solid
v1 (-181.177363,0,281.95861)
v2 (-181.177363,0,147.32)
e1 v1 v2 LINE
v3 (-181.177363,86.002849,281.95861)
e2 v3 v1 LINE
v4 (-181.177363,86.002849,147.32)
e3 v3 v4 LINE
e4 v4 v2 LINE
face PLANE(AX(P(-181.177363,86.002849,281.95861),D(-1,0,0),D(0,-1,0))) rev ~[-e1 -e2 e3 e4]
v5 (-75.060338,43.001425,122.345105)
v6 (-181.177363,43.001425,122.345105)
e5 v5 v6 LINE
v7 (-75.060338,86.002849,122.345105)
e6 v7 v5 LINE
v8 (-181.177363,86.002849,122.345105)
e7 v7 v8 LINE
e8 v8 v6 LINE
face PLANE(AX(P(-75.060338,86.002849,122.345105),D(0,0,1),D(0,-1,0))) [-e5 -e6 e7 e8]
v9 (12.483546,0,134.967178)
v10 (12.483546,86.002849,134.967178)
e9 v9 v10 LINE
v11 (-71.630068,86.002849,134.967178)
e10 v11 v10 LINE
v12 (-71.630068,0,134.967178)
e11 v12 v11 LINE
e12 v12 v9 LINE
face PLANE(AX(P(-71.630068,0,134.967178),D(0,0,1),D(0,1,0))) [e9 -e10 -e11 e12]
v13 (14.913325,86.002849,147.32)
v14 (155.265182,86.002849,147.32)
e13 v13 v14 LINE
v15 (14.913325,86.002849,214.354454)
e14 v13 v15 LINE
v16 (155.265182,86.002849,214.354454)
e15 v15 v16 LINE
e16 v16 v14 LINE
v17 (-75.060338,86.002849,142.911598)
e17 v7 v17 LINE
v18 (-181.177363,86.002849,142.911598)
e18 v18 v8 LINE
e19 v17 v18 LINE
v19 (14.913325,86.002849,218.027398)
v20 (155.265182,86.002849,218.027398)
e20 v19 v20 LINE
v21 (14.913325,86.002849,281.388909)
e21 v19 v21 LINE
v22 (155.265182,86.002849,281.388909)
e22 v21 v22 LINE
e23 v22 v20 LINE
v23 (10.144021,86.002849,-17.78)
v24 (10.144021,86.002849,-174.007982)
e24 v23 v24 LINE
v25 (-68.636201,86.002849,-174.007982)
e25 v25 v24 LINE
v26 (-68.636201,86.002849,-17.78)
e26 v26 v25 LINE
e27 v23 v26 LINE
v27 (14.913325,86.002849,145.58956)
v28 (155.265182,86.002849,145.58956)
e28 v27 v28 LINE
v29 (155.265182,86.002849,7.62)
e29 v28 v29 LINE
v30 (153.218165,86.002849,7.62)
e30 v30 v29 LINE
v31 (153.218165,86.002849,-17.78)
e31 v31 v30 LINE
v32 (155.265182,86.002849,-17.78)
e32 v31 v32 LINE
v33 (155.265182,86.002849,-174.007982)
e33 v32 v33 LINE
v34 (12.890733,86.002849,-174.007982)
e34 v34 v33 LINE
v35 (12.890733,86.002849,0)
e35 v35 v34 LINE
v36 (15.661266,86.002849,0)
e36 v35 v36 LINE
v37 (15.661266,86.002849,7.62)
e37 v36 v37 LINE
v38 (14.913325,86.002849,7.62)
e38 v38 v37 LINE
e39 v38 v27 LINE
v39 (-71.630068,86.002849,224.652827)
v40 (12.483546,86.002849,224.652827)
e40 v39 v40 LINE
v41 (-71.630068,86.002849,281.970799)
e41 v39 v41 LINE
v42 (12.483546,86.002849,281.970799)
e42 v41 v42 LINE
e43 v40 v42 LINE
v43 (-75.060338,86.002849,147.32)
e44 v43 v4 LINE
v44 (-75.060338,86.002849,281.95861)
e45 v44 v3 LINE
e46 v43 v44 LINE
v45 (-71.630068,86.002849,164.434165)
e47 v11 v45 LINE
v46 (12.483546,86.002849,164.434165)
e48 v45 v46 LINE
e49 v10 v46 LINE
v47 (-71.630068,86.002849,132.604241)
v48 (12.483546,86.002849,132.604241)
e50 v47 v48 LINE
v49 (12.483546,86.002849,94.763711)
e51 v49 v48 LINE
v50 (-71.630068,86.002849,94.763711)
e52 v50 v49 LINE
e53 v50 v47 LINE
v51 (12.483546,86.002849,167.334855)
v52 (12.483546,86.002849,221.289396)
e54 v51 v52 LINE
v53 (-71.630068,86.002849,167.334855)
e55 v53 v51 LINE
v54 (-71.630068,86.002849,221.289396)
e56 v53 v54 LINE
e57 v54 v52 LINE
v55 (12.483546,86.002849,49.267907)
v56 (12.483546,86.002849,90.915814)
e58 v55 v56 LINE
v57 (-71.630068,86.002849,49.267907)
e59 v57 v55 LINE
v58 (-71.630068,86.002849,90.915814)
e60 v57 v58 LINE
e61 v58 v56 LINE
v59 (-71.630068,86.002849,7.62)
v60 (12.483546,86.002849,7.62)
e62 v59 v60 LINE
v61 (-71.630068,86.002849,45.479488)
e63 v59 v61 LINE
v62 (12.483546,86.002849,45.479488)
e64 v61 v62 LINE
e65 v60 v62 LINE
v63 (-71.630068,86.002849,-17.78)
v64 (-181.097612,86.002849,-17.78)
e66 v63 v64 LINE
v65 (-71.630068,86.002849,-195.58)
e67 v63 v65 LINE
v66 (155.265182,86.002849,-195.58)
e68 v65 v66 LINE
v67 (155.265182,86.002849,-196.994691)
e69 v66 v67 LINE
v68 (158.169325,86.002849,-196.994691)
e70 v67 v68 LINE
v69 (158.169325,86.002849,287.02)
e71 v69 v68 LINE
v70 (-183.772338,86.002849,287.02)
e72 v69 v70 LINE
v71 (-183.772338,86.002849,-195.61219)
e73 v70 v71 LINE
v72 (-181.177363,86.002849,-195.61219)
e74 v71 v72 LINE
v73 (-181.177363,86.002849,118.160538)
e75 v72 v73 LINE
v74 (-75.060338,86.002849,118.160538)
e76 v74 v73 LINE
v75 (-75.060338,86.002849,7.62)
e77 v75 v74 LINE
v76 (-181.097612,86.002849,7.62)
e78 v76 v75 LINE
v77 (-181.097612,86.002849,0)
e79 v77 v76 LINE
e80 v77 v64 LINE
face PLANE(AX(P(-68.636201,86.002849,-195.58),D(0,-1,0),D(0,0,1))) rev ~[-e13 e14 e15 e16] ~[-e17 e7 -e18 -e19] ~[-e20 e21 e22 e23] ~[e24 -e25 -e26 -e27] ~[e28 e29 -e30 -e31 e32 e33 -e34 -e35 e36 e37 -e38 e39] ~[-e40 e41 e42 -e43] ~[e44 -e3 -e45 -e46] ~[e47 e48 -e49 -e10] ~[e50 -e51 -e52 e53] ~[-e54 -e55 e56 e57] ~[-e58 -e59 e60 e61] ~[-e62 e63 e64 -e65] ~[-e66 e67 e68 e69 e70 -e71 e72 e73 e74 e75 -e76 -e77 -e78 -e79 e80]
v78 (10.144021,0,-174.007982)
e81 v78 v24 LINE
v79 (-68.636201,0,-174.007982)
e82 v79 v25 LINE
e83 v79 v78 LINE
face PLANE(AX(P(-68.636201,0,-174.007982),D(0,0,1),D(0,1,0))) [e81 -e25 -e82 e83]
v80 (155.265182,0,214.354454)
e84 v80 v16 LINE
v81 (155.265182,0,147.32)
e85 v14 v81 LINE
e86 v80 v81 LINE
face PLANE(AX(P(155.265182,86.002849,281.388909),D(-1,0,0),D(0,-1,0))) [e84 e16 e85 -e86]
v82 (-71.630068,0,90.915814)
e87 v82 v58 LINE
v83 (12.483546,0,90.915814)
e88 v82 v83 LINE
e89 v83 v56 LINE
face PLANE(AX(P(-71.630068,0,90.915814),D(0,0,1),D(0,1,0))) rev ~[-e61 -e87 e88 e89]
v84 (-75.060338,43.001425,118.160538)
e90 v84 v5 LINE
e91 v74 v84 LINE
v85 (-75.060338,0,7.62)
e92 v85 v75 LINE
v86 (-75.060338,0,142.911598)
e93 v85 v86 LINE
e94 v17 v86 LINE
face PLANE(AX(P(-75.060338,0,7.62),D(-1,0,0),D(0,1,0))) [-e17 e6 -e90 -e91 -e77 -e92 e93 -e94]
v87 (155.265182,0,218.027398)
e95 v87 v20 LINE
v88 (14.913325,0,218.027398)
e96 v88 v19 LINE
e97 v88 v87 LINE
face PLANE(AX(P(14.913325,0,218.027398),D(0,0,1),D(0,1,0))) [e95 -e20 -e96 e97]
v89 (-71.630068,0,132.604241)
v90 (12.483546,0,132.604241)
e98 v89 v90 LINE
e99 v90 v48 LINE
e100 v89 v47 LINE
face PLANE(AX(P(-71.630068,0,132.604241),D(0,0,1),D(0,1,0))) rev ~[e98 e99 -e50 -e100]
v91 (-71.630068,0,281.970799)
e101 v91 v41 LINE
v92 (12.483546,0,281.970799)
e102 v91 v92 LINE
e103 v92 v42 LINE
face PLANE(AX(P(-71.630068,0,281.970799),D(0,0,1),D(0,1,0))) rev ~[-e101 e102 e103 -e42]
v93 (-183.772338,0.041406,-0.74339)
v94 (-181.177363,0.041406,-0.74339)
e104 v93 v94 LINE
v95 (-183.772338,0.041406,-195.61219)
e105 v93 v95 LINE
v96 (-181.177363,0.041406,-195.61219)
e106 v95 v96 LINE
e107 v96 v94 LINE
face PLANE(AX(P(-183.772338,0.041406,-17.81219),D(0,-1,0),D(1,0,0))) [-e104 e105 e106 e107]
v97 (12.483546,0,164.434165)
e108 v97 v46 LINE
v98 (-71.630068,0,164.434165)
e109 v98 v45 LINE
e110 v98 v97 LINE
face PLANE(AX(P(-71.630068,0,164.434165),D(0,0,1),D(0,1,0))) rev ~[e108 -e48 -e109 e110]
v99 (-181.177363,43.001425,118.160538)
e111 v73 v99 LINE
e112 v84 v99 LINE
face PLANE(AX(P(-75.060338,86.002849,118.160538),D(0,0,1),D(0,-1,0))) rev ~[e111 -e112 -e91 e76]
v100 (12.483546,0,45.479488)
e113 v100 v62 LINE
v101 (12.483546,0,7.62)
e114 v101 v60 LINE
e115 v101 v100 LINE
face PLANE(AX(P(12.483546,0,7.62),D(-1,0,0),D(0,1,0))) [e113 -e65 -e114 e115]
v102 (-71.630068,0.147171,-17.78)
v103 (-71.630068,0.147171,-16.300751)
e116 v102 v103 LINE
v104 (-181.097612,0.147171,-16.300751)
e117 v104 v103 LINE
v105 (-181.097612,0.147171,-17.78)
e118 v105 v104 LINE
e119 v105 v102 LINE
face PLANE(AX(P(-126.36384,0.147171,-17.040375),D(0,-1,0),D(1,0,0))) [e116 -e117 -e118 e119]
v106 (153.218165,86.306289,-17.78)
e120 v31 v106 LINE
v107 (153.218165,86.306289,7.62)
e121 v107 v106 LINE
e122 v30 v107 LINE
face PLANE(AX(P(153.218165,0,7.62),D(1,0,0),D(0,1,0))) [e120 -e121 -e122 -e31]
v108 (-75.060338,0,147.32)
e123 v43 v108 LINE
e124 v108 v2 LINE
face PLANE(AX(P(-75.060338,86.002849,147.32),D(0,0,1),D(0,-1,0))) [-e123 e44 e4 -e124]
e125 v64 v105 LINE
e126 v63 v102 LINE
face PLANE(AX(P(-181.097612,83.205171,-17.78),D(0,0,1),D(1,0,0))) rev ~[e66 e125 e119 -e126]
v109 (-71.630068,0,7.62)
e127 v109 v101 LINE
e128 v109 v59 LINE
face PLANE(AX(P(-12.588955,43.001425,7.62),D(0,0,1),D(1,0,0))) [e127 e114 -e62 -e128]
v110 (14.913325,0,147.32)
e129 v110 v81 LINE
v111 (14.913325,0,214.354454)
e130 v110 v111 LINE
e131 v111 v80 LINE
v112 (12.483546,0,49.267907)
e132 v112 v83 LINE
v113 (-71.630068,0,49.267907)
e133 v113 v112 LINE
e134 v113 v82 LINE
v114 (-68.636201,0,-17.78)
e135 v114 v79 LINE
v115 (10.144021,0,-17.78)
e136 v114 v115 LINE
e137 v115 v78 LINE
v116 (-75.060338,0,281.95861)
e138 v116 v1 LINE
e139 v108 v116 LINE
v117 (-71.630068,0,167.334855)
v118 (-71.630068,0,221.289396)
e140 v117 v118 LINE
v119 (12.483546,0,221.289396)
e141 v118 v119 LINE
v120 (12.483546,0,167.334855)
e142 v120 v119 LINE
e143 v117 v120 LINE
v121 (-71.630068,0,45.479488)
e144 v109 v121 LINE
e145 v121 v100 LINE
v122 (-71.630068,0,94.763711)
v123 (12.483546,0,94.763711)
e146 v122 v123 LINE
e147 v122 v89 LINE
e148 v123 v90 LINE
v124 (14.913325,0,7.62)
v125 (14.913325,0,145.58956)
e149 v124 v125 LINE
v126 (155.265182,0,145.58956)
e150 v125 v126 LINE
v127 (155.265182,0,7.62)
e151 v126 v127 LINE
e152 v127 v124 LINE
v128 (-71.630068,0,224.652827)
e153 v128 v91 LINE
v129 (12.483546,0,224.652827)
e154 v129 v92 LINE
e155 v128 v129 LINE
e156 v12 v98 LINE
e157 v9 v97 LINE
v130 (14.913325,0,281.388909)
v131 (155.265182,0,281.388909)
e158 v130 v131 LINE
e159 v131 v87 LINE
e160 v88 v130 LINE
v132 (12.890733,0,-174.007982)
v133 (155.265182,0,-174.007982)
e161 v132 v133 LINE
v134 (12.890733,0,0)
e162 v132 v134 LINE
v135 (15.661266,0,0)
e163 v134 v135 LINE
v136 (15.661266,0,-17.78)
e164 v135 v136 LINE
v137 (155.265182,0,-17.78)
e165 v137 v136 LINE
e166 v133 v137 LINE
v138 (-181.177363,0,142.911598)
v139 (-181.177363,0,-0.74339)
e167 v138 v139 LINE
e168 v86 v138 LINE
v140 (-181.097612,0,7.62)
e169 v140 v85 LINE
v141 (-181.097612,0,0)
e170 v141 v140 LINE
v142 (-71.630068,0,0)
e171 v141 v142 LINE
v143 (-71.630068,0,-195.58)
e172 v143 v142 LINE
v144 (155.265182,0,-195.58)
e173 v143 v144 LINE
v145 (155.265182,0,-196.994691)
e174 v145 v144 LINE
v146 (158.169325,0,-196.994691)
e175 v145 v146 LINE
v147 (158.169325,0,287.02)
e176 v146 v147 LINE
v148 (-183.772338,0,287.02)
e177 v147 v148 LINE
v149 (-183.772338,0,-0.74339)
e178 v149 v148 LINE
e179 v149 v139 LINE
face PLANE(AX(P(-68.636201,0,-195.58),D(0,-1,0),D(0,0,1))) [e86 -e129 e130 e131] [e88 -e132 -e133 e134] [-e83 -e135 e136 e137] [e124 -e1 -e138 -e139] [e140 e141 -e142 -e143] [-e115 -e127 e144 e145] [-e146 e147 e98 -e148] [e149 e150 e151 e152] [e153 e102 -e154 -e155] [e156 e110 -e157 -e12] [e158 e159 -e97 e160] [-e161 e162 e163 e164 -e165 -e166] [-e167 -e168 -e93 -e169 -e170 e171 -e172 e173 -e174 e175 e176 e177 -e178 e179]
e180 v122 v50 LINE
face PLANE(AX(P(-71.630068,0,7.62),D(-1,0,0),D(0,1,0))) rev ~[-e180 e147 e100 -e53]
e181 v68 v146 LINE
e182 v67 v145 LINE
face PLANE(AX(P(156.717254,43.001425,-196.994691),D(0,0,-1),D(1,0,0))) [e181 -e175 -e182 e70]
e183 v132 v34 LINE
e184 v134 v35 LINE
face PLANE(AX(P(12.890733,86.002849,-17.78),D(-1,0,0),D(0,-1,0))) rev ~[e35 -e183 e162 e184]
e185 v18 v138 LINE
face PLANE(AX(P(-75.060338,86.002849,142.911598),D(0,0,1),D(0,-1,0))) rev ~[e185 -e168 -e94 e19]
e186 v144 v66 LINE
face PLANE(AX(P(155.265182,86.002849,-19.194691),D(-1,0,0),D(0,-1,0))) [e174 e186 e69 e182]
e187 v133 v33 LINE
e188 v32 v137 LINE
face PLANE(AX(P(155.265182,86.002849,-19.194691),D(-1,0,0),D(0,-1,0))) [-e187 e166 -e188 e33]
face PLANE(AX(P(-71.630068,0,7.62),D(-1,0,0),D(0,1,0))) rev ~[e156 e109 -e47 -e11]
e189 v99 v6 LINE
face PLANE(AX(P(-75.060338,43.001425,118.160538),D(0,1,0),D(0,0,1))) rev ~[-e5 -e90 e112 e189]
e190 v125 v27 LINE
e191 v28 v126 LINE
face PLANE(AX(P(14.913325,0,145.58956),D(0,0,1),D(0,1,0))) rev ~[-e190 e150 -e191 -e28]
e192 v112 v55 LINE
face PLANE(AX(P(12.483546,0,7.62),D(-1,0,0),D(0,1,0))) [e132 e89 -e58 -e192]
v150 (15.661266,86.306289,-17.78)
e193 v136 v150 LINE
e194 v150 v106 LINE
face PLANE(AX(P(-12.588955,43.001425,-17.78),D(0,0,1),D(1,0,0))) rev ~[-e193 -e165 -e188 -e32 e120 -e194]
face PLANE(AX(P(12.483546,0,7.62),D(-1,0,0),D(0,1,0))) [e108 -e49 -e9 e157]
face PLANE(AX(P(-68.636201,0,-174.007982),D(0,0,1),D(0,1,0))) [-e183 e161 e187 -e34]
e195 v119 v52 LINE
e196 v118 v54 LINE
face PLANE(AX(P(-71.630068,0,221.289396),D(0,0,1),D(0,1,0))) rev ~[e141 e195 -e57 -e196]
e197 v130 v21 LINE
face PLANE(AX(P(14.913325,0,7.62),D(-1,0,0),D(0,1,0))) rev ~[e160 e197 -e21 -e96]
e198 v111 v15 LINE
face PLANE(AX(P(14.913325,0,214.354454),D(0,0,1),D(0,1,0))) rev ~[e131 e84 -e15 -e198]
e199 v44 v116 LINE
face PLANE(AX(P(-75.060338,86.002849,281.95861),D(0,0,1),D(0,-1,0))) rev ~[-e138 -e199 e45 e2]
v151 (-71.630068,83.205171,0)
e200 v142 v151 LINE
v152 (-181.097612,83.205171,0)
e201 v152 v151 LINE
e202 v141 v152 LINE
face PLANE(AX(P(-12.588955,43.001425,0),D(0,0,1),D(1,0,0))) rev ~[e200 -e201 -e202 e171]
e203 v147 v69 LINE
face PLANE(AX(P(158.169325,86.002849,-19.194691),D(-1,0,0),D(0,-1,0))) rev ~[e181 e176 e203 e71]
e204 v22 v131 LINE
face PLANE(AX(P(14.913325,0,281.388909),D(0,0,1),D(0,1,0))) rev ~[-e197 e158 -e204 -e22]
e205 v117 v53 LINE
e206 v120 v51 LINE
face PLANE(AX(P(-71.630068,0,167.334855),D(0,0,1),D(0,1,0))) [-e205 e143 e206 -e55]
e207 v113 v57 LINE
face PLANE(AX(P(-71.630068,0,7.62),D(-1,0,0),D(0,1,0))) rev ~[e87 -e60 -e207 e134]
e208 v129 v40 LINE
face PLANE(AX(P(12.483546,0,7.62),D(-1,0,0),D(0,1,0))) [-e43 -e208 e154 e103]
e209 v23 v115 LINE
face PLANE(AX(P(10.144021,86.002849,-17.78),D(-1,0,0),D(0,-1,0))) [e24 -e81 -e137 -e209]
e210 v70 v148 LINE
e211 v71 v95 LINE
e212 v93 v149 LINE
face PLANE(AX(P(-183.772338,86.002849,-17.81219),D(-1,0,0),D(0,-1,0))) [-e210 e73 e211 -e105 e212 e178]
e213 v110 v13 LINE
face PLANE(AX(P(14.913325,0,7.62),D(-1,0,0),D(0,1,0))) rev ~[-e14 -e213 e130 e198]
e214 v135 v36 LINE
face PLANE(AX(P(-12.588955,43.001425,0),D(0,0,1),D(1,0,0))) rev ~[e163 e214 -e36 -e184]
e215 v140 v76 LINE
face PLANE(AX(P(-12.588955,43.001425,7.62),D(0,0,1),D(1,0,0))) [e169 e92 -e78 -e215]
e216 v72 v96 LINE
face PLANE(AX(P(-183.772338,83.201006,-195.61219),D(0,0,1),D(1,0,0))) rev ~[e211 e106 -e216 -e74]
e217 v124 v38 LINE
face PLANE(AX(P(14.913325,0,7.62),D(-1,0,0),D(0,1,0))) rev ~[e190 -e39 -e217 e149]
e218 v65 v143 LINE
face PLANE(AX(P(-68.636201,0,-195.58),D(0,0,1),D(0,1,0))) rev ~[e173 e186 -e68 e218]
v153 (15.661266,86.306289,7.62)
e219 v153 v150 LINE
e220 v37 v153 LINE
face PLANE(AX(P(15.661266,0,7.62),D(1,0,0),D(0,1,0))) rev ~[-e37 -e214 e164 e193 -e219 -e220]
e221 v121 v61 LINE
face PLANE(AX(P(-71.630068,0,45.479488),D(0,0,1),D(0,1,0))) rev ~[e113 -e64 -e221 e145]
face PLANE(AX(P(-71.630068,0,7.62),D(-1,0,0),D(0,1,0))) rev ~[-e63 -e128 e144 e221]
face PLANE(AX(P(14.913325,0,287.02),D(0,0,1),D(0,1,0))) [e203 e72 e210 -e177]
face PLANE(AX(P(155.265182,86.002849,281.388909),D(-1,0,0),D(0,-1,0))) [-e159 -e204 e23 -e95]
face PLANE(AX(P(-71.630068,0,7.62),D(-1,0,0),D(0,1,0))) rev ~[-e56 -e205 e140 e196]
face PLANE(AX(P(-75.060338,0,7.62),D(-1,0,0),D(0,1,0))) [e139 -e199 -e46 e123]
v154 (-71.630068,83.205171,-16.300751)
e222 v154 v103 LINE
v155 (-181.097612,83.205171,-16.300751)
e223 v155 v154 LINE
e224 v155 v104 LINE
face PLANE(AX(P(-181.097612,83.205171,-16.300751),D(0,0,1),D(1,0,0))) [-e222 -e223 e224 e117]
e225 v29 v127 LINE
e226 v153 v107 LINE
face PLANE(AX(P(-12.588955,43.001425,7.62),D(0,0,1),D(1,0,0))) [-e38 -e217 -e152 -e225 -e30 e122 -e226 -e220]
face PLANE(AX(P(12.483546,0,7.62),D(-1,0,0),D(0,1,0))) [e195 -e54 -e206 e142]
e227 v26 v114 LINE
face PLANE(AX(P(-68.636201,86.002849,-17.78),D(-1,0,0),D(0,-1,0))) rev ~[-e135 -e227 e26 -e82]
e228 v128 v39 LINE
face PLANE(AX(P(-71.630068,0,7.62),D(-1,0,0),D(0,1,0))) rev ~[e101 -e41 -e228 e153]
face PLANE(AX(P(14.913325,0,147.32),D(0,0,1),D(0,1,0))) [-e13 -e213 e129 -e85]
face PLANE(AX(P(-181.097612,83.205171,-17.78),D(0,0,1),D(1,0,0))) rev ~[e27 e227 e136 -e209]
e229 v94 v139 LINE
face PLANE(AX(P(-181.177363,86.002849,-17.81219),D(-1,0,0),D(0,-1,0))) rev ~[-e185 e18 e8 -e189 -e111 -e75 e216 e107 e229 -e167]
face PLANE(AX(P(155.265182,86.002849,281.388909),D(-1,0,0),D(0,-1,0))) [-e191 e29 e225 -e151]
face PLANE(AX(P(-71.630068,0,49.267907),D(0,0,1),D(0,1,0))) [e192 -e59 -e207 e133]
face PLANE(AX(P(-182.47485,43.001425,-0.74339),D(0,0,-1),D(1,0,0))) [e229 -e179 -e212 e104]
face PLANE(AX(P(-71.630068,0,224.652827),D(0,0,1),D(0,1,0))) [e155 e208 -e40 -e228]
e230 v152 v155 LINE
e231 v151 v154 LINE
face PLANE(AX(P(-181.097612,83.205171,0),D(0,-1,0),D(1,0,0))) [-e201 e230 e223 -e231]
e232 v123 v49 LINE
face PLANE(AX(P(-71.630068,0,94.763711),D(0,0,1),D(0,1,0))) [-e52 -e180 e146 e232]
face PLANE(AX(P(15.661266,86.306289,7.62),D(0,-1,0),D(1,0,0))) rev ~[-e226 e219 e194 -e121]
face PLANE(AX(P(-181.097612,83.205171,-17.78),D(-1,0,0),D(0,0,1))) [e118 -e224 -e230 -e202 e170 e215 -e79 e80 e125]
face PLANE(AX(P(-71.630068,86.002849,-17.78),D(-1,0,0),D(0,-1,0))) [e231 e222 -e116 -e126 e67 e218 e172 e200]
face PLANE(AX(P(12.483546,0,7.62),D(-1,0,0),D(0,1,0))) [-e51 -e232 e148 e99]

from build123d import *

# Parameters (mm, degrees)
F0_W      = 337.0173126459
F0_H      = 86.0028490424
F1_DEPTH  = 7.62
F2_W      = 3.4302696586
F2_H      = 86.0028490424
F3_DEPTH  = 279.4
F4_W      = 86.0028490424
F4_H      = 4.4084019136
F5_DEPTH  = 108.712
F6_W      = 43.0014245212
F6_H      = 4.1845664382
F7_DEPTH  = 108.712
F8_W      = 86.0028490424
F8_H      = 5.0613901806
F9_DEPTH  = 108.712
F10_W     = 2.5949749823
F10_H     = 86.0028490424
F11_DEPTH = 282.702
F12_W     = 84.5208009705
F12_H     = 86.0028490424
F13_DEPTH = 25.4
F14_W     = 2.429779619
F14_H     = 86.0028490424
F15_DEPTH = 279.4
F16_W     = 86.0028490424
F16_H     = 5.0492010307
F17_DEPTH = 84.836
F18_W     = 86.0028490424
F18_H     = 2.9006898403
F19_DEPTH = 84.836
F20_W     = 86.0028490424
F20_H     = 3.3634305
F21_DEPTH = 85.09
F22_W     = 86.0028490424
F22_H     = 2.3629367352
F23_DEPTH = 85.09
F24_W     = 86.0028490424
F24_H     = 3.8478970528
F25_DEPTH = 85.09
F26_W     = 86.0028490424
F26_H     = 3.7884193933
F27_DEPTH = 85.09
F29_W     = 137.556899339
F29_H     = 86.3062888384
F30_DEPTH = 25.4
F31_W     = 86.0028490424
F31_H     = 1.7304397297
F32_DEPTH = 143.256
F33_W     = 86.0028490424
F33_H     = 5.6310913754
F34_DEPTH = 143.256
F35_W     = 2.9041429413
F35_H     = 86.0028490424
F36_DEPTH = 300.5836
F37_W     = 86.0028490424
F37_H     = 3.6729436779
F38_DEPTH = 141.732
F39_W     = 109.4675436616
F39_H     = 2.797678113
F40_DEPTH = 17.78
F41_W     = 2.5949749823
F41_H     = 2.8018429875
F42_DEPTH = 17.0688
F43_DEPTH = 83.1596
F44_W     = 109.4675436616
F44_H     = 1.4792491037
F45_DEPTH = 83.058
F46_DEPTH = 177.8
F47_W     = 2.9938668013
F47_H     = 86.0028490424
F48_DEPTH = 177.8
F49_W     = 2.7467114851
F49_H     = 86.0028490424
F50_DEPTH = 177.8
F51_DEPTH = 17.78
F52_W     = 2.9041429413
F52_H     = 86.0028490424
F53_DEPTH = 177.8
F54_W     = 86.0028490424
F54_H     = 21.5720179844
F55_DEPTH = 226.06


with BuildPart() as f1:
    # F0 (on Top) → F1 (new body)
    with BuildSketch(Plane.XY):
        with Locations((-12.588955462, 43.0014245212)):
            Rectangle(F0_W, F0_H)
    extrude(amount=F1_DEPTH)

    # F2 (on face) → F3 (join)
    with BuildSketch(Plane.XY.offset(7.62)):
        with Locations((-73.3452029526, 43.0014245212)):
            Rectangle(F2_W, F2_H)
    extrude(amount=F3_DEPTH)

    # F4 (on face) → F5 (join)
    with BuildSketch(Plane(origin=(-75.0603377819, 0, 0), x_dir=(0, -1, 0), z_dir=(-1, 0, 0))):
        with Locations((-43.0014245212, 145.1157990432)):
            Rectangle(F4_W, F4_H)
    extrude(amount=F5_DEPTH)

    # F6 (on face) → F7 (join)
    with BuildSketch(Plane(origin=(-75.0603377819, 0, 0), x_dir=(0, -1, 0), z_dir=(-1, 0, 0))):
        with Locations((-64.5021367818, 120.2528215945)):
            Rectangle(F6_W, F6_H)
    extrude(amount=F7_DEPTH)

    # F8 (on face) → F9 (join)
    with BuildSketch(Plane(origin=(-75.0603377819, 0, 0), x_dir=(0, -1, 0), z_dir=(-1, 0, 0))):
        with Locations((-43.0014245212, 284.4893049097)):
            Rectangle(F8_W, F8_H)
    extrude(amount=F9_DEPTH)

    # F10 (on face) → F11 (join)
    with BuildSketch(Plane(origin=(0, 0, 281.9586098194), x_dir=(1, 0, 0), z_dir=(0, 0, -1))):
        with Locations((-182.4748502908, -43.0014245212)):
            Rectangle(F10_W, F10_H)
    extrude(amount=F11_DEPTH)

    # F12 (on face) → F13 (join)
    with BuildSketch(Plane.XY.offset(7.62)):
        with Locations((-29.3696676381, 43.0014245212)):
            Rectangle(F12_W, F12_H)
    extrude(amount=-F13_DEPTH)

    # F14 (on face) → F15 (join)
    with BuildSketch(Plane.XY.offset(7.62)):
        with Locations((13.6984353885, 43.0014245212)):
            Rectangle(F14_W, F14_H)
    extrude(amount=F15_DEPTH)

    # F16 (on face) → F17 (join)
    with BuildSketch(Plane.YZ.offset(-71.6300681233)):
        with Locations((43.0014245212, 284.4953994846)):
            Rectangle(F16_W, F16_H)
    extrude(amount=F17_DEPTH)

    # F18 (on face) → F19 (join)
    with BuildSketch(Plane.YZ.offset(-71.6300681233)):
        with Locations((43.0014245212, 165.8845096827)):
            Rectangle(F18_W, F18_H)
    extrude(amount=F19_DEPTH)

    # F20 (on face) → F21 (join)
    with BuildSketch(Plane.YZ.offset(-71.6300681233)):
        with Locations((43.0014245212, 222.971111536)):
            Rectangle(F20_W, F20_H)
    extrude(amount=F21_DEPTH)

    # F22 (on face) → F23 (join)
    with BuildSketch(Plane.YZ.offset(-71.6300681233)):
        with Locations((43.0014245212, 133.7857097387)):
            Rectangle(F22_W, F22_H)
    extrude(amount=F23_DEPTH)

    # F24 (on face) → F25 (join)
    with BuildSketch(Plane.YZ.offset(-71.6300681233)):
        with Locations((43.0014245212, 92.8397625685)):
            Rectangle(F24_W, F24_H)
    extrude(amount=F25_DEPTH)

    # F26 (on face) → F27 (join)
    with BuildSketch(Plane.YZ.offset(-71.6300681233)):
        with Locations((43.0014245212, 47.3736973244)):
            Rectangle(F26_W, F26_H)
    extrude(amount=F27_DEPTH)

    # F29 (on face) → F30 (join)
    with BuildSketch(Plane.XY.offset(7.62)):
        with Locations((84.4397153705, 43.1531444192)):
            Rectangle(F29_W, F29_H)
    extrude(amount=-F30_DEPTH)

    # F31 (on face) → F32 (join)
    with BuildSketch(Plane.YZ.offset(14.913325198)):
        with Locations((43.0014245212, 146.4547801352)):
            Rectangle(F31_W, F31_H)
    extrude(amount=F32_DEPTH)

    # F33 (on face) → F34 (join)
    with BuildSketch(Plane.YZ.offset(14.913325198)):
        with Locations((43.0014245212, 284.2044543123)):
            Rectangle(F33_W, F33_H)
    extrude(amount=F34_DEPTH)

    # F35 (on face) → F36 (join)
    with BuildSketch(Plane(origin=(0, 0, 281.3889086246), x_dir=(1, 0, 0), z_dir=(0, 0, -1))):
        with Locations((156.7172537273, -43.0014245212)):
            Rectangle(F35_W, F35_H)
    extrude(amount=F36_DEPTH)

    # F37 (on face) → F38 (join)
    with BuildSketch(Plane.YZ.offset(14.913325198)):
        with Locations((43.0014245212, 216.1909261513)):
            Rectangle(F37_W, F37_H)
    extrude(amount=F38_DEPTH)

    # F39 (on face) → F40 (join)
    with BuildSketch(Plane(origin=(0, 0, 0), x_dir=(1, 0, 0), z_dir=(0, 0, -1))):
        with Locations((-126.3638399541, -84.6040099859)):
            Rectangle(F39_W, F39_H)
    extrude(amount=F40_DEPTH)

    # F41 (on face) → F42 (join)
    with BuildSketch(Plane(origin=(0, 0, -0.7433901806), x_dir=(1, 0, 0), z_dir=(0, 0, -1))):
        with Locations((-182.4748502908, -84.6019275486)):
            Rectangle(F41_W, F41_H)
    extrude(amount=F42_DEPTH)

    # F43 (add): a face of the model
    f43_faces = [f1.faces().sort_by_distance(p)[0] for p in [
        (-182.4748502908, 83.2010060549, -9.2777901806),
    ]]
    extrude(f43_faces, amount=F43_DEPTH)

    # F44 (on face) → F45 (join)
    with BuildSketch(Plane.XZ.offset(-83.2051709294)):
        with Locations((-126.3638399541, -17.0403754482)):
            Rectangle(F44_W, F44_H)
    extrude(amount=F45_DEPTH)

    # F46 (add): a face of the model
    f46_faces = [f1.faces().sort_by_distance(p)[0] for p in [
        (-182.4748502908, 43.0221275486, -17.8121901806),
    ]]
    extrude(f46_faces, amount=F46_DEPTH)

    # F47 (on face) → F48 (join)
    with BuildSketch(Plane(origin=(0, 0, -17.78), x_dir=(1, 0, 0), z_dir=(0, 0, -1))):
        with Locations((-70.1331347227, -43.0014245212)):
            Rectangle(F47_W, F47_H)
    extrude(amount=F48_DEPTH)

    # F49 (on face) → F50 (join)
    with BuildSketch(Plane(origin=(0, 0, -17.78), x_dir=(1, 0, 0), z_dir=(0, 0, -1))):
        with Locations((11.5173771046, -43.0014245212)):
            Rectangle(F49_W, F49_H)
    extrude(amount=F50_DEPTH)

    # F51 (add): a face of the model
    f51_faces = [f1.faces().sort_by_distance(p)[0] for p in [
        (154.2416736484, 43.0014245212, 0),
    ]]
    extrude(f51_faces, amount=F51_DEPTH)

    # F52 (on face) → F53 (join)
    with BuildSketch(Plane(origin=(0, 0, -19.1946913754), x_dir=(1, 0, 0), z_dir=(0, 0, -1))):
        with Locations((156.7172537273, -43.0014245212)):
            Rectangle(F52_W, F52_H)
    extrude(amount=F53_DEPTH)

    # F54 (on face) → F55 (join)
    with BuildSketch(Plane.YZ.offset(-68.6362013221)):
        with Locations((43.0014245212, -184.7939910078)):
            Rectangle(F54_W, F54_H)
    extrude(amount=F55_DEPTH)


solid = f1.part
